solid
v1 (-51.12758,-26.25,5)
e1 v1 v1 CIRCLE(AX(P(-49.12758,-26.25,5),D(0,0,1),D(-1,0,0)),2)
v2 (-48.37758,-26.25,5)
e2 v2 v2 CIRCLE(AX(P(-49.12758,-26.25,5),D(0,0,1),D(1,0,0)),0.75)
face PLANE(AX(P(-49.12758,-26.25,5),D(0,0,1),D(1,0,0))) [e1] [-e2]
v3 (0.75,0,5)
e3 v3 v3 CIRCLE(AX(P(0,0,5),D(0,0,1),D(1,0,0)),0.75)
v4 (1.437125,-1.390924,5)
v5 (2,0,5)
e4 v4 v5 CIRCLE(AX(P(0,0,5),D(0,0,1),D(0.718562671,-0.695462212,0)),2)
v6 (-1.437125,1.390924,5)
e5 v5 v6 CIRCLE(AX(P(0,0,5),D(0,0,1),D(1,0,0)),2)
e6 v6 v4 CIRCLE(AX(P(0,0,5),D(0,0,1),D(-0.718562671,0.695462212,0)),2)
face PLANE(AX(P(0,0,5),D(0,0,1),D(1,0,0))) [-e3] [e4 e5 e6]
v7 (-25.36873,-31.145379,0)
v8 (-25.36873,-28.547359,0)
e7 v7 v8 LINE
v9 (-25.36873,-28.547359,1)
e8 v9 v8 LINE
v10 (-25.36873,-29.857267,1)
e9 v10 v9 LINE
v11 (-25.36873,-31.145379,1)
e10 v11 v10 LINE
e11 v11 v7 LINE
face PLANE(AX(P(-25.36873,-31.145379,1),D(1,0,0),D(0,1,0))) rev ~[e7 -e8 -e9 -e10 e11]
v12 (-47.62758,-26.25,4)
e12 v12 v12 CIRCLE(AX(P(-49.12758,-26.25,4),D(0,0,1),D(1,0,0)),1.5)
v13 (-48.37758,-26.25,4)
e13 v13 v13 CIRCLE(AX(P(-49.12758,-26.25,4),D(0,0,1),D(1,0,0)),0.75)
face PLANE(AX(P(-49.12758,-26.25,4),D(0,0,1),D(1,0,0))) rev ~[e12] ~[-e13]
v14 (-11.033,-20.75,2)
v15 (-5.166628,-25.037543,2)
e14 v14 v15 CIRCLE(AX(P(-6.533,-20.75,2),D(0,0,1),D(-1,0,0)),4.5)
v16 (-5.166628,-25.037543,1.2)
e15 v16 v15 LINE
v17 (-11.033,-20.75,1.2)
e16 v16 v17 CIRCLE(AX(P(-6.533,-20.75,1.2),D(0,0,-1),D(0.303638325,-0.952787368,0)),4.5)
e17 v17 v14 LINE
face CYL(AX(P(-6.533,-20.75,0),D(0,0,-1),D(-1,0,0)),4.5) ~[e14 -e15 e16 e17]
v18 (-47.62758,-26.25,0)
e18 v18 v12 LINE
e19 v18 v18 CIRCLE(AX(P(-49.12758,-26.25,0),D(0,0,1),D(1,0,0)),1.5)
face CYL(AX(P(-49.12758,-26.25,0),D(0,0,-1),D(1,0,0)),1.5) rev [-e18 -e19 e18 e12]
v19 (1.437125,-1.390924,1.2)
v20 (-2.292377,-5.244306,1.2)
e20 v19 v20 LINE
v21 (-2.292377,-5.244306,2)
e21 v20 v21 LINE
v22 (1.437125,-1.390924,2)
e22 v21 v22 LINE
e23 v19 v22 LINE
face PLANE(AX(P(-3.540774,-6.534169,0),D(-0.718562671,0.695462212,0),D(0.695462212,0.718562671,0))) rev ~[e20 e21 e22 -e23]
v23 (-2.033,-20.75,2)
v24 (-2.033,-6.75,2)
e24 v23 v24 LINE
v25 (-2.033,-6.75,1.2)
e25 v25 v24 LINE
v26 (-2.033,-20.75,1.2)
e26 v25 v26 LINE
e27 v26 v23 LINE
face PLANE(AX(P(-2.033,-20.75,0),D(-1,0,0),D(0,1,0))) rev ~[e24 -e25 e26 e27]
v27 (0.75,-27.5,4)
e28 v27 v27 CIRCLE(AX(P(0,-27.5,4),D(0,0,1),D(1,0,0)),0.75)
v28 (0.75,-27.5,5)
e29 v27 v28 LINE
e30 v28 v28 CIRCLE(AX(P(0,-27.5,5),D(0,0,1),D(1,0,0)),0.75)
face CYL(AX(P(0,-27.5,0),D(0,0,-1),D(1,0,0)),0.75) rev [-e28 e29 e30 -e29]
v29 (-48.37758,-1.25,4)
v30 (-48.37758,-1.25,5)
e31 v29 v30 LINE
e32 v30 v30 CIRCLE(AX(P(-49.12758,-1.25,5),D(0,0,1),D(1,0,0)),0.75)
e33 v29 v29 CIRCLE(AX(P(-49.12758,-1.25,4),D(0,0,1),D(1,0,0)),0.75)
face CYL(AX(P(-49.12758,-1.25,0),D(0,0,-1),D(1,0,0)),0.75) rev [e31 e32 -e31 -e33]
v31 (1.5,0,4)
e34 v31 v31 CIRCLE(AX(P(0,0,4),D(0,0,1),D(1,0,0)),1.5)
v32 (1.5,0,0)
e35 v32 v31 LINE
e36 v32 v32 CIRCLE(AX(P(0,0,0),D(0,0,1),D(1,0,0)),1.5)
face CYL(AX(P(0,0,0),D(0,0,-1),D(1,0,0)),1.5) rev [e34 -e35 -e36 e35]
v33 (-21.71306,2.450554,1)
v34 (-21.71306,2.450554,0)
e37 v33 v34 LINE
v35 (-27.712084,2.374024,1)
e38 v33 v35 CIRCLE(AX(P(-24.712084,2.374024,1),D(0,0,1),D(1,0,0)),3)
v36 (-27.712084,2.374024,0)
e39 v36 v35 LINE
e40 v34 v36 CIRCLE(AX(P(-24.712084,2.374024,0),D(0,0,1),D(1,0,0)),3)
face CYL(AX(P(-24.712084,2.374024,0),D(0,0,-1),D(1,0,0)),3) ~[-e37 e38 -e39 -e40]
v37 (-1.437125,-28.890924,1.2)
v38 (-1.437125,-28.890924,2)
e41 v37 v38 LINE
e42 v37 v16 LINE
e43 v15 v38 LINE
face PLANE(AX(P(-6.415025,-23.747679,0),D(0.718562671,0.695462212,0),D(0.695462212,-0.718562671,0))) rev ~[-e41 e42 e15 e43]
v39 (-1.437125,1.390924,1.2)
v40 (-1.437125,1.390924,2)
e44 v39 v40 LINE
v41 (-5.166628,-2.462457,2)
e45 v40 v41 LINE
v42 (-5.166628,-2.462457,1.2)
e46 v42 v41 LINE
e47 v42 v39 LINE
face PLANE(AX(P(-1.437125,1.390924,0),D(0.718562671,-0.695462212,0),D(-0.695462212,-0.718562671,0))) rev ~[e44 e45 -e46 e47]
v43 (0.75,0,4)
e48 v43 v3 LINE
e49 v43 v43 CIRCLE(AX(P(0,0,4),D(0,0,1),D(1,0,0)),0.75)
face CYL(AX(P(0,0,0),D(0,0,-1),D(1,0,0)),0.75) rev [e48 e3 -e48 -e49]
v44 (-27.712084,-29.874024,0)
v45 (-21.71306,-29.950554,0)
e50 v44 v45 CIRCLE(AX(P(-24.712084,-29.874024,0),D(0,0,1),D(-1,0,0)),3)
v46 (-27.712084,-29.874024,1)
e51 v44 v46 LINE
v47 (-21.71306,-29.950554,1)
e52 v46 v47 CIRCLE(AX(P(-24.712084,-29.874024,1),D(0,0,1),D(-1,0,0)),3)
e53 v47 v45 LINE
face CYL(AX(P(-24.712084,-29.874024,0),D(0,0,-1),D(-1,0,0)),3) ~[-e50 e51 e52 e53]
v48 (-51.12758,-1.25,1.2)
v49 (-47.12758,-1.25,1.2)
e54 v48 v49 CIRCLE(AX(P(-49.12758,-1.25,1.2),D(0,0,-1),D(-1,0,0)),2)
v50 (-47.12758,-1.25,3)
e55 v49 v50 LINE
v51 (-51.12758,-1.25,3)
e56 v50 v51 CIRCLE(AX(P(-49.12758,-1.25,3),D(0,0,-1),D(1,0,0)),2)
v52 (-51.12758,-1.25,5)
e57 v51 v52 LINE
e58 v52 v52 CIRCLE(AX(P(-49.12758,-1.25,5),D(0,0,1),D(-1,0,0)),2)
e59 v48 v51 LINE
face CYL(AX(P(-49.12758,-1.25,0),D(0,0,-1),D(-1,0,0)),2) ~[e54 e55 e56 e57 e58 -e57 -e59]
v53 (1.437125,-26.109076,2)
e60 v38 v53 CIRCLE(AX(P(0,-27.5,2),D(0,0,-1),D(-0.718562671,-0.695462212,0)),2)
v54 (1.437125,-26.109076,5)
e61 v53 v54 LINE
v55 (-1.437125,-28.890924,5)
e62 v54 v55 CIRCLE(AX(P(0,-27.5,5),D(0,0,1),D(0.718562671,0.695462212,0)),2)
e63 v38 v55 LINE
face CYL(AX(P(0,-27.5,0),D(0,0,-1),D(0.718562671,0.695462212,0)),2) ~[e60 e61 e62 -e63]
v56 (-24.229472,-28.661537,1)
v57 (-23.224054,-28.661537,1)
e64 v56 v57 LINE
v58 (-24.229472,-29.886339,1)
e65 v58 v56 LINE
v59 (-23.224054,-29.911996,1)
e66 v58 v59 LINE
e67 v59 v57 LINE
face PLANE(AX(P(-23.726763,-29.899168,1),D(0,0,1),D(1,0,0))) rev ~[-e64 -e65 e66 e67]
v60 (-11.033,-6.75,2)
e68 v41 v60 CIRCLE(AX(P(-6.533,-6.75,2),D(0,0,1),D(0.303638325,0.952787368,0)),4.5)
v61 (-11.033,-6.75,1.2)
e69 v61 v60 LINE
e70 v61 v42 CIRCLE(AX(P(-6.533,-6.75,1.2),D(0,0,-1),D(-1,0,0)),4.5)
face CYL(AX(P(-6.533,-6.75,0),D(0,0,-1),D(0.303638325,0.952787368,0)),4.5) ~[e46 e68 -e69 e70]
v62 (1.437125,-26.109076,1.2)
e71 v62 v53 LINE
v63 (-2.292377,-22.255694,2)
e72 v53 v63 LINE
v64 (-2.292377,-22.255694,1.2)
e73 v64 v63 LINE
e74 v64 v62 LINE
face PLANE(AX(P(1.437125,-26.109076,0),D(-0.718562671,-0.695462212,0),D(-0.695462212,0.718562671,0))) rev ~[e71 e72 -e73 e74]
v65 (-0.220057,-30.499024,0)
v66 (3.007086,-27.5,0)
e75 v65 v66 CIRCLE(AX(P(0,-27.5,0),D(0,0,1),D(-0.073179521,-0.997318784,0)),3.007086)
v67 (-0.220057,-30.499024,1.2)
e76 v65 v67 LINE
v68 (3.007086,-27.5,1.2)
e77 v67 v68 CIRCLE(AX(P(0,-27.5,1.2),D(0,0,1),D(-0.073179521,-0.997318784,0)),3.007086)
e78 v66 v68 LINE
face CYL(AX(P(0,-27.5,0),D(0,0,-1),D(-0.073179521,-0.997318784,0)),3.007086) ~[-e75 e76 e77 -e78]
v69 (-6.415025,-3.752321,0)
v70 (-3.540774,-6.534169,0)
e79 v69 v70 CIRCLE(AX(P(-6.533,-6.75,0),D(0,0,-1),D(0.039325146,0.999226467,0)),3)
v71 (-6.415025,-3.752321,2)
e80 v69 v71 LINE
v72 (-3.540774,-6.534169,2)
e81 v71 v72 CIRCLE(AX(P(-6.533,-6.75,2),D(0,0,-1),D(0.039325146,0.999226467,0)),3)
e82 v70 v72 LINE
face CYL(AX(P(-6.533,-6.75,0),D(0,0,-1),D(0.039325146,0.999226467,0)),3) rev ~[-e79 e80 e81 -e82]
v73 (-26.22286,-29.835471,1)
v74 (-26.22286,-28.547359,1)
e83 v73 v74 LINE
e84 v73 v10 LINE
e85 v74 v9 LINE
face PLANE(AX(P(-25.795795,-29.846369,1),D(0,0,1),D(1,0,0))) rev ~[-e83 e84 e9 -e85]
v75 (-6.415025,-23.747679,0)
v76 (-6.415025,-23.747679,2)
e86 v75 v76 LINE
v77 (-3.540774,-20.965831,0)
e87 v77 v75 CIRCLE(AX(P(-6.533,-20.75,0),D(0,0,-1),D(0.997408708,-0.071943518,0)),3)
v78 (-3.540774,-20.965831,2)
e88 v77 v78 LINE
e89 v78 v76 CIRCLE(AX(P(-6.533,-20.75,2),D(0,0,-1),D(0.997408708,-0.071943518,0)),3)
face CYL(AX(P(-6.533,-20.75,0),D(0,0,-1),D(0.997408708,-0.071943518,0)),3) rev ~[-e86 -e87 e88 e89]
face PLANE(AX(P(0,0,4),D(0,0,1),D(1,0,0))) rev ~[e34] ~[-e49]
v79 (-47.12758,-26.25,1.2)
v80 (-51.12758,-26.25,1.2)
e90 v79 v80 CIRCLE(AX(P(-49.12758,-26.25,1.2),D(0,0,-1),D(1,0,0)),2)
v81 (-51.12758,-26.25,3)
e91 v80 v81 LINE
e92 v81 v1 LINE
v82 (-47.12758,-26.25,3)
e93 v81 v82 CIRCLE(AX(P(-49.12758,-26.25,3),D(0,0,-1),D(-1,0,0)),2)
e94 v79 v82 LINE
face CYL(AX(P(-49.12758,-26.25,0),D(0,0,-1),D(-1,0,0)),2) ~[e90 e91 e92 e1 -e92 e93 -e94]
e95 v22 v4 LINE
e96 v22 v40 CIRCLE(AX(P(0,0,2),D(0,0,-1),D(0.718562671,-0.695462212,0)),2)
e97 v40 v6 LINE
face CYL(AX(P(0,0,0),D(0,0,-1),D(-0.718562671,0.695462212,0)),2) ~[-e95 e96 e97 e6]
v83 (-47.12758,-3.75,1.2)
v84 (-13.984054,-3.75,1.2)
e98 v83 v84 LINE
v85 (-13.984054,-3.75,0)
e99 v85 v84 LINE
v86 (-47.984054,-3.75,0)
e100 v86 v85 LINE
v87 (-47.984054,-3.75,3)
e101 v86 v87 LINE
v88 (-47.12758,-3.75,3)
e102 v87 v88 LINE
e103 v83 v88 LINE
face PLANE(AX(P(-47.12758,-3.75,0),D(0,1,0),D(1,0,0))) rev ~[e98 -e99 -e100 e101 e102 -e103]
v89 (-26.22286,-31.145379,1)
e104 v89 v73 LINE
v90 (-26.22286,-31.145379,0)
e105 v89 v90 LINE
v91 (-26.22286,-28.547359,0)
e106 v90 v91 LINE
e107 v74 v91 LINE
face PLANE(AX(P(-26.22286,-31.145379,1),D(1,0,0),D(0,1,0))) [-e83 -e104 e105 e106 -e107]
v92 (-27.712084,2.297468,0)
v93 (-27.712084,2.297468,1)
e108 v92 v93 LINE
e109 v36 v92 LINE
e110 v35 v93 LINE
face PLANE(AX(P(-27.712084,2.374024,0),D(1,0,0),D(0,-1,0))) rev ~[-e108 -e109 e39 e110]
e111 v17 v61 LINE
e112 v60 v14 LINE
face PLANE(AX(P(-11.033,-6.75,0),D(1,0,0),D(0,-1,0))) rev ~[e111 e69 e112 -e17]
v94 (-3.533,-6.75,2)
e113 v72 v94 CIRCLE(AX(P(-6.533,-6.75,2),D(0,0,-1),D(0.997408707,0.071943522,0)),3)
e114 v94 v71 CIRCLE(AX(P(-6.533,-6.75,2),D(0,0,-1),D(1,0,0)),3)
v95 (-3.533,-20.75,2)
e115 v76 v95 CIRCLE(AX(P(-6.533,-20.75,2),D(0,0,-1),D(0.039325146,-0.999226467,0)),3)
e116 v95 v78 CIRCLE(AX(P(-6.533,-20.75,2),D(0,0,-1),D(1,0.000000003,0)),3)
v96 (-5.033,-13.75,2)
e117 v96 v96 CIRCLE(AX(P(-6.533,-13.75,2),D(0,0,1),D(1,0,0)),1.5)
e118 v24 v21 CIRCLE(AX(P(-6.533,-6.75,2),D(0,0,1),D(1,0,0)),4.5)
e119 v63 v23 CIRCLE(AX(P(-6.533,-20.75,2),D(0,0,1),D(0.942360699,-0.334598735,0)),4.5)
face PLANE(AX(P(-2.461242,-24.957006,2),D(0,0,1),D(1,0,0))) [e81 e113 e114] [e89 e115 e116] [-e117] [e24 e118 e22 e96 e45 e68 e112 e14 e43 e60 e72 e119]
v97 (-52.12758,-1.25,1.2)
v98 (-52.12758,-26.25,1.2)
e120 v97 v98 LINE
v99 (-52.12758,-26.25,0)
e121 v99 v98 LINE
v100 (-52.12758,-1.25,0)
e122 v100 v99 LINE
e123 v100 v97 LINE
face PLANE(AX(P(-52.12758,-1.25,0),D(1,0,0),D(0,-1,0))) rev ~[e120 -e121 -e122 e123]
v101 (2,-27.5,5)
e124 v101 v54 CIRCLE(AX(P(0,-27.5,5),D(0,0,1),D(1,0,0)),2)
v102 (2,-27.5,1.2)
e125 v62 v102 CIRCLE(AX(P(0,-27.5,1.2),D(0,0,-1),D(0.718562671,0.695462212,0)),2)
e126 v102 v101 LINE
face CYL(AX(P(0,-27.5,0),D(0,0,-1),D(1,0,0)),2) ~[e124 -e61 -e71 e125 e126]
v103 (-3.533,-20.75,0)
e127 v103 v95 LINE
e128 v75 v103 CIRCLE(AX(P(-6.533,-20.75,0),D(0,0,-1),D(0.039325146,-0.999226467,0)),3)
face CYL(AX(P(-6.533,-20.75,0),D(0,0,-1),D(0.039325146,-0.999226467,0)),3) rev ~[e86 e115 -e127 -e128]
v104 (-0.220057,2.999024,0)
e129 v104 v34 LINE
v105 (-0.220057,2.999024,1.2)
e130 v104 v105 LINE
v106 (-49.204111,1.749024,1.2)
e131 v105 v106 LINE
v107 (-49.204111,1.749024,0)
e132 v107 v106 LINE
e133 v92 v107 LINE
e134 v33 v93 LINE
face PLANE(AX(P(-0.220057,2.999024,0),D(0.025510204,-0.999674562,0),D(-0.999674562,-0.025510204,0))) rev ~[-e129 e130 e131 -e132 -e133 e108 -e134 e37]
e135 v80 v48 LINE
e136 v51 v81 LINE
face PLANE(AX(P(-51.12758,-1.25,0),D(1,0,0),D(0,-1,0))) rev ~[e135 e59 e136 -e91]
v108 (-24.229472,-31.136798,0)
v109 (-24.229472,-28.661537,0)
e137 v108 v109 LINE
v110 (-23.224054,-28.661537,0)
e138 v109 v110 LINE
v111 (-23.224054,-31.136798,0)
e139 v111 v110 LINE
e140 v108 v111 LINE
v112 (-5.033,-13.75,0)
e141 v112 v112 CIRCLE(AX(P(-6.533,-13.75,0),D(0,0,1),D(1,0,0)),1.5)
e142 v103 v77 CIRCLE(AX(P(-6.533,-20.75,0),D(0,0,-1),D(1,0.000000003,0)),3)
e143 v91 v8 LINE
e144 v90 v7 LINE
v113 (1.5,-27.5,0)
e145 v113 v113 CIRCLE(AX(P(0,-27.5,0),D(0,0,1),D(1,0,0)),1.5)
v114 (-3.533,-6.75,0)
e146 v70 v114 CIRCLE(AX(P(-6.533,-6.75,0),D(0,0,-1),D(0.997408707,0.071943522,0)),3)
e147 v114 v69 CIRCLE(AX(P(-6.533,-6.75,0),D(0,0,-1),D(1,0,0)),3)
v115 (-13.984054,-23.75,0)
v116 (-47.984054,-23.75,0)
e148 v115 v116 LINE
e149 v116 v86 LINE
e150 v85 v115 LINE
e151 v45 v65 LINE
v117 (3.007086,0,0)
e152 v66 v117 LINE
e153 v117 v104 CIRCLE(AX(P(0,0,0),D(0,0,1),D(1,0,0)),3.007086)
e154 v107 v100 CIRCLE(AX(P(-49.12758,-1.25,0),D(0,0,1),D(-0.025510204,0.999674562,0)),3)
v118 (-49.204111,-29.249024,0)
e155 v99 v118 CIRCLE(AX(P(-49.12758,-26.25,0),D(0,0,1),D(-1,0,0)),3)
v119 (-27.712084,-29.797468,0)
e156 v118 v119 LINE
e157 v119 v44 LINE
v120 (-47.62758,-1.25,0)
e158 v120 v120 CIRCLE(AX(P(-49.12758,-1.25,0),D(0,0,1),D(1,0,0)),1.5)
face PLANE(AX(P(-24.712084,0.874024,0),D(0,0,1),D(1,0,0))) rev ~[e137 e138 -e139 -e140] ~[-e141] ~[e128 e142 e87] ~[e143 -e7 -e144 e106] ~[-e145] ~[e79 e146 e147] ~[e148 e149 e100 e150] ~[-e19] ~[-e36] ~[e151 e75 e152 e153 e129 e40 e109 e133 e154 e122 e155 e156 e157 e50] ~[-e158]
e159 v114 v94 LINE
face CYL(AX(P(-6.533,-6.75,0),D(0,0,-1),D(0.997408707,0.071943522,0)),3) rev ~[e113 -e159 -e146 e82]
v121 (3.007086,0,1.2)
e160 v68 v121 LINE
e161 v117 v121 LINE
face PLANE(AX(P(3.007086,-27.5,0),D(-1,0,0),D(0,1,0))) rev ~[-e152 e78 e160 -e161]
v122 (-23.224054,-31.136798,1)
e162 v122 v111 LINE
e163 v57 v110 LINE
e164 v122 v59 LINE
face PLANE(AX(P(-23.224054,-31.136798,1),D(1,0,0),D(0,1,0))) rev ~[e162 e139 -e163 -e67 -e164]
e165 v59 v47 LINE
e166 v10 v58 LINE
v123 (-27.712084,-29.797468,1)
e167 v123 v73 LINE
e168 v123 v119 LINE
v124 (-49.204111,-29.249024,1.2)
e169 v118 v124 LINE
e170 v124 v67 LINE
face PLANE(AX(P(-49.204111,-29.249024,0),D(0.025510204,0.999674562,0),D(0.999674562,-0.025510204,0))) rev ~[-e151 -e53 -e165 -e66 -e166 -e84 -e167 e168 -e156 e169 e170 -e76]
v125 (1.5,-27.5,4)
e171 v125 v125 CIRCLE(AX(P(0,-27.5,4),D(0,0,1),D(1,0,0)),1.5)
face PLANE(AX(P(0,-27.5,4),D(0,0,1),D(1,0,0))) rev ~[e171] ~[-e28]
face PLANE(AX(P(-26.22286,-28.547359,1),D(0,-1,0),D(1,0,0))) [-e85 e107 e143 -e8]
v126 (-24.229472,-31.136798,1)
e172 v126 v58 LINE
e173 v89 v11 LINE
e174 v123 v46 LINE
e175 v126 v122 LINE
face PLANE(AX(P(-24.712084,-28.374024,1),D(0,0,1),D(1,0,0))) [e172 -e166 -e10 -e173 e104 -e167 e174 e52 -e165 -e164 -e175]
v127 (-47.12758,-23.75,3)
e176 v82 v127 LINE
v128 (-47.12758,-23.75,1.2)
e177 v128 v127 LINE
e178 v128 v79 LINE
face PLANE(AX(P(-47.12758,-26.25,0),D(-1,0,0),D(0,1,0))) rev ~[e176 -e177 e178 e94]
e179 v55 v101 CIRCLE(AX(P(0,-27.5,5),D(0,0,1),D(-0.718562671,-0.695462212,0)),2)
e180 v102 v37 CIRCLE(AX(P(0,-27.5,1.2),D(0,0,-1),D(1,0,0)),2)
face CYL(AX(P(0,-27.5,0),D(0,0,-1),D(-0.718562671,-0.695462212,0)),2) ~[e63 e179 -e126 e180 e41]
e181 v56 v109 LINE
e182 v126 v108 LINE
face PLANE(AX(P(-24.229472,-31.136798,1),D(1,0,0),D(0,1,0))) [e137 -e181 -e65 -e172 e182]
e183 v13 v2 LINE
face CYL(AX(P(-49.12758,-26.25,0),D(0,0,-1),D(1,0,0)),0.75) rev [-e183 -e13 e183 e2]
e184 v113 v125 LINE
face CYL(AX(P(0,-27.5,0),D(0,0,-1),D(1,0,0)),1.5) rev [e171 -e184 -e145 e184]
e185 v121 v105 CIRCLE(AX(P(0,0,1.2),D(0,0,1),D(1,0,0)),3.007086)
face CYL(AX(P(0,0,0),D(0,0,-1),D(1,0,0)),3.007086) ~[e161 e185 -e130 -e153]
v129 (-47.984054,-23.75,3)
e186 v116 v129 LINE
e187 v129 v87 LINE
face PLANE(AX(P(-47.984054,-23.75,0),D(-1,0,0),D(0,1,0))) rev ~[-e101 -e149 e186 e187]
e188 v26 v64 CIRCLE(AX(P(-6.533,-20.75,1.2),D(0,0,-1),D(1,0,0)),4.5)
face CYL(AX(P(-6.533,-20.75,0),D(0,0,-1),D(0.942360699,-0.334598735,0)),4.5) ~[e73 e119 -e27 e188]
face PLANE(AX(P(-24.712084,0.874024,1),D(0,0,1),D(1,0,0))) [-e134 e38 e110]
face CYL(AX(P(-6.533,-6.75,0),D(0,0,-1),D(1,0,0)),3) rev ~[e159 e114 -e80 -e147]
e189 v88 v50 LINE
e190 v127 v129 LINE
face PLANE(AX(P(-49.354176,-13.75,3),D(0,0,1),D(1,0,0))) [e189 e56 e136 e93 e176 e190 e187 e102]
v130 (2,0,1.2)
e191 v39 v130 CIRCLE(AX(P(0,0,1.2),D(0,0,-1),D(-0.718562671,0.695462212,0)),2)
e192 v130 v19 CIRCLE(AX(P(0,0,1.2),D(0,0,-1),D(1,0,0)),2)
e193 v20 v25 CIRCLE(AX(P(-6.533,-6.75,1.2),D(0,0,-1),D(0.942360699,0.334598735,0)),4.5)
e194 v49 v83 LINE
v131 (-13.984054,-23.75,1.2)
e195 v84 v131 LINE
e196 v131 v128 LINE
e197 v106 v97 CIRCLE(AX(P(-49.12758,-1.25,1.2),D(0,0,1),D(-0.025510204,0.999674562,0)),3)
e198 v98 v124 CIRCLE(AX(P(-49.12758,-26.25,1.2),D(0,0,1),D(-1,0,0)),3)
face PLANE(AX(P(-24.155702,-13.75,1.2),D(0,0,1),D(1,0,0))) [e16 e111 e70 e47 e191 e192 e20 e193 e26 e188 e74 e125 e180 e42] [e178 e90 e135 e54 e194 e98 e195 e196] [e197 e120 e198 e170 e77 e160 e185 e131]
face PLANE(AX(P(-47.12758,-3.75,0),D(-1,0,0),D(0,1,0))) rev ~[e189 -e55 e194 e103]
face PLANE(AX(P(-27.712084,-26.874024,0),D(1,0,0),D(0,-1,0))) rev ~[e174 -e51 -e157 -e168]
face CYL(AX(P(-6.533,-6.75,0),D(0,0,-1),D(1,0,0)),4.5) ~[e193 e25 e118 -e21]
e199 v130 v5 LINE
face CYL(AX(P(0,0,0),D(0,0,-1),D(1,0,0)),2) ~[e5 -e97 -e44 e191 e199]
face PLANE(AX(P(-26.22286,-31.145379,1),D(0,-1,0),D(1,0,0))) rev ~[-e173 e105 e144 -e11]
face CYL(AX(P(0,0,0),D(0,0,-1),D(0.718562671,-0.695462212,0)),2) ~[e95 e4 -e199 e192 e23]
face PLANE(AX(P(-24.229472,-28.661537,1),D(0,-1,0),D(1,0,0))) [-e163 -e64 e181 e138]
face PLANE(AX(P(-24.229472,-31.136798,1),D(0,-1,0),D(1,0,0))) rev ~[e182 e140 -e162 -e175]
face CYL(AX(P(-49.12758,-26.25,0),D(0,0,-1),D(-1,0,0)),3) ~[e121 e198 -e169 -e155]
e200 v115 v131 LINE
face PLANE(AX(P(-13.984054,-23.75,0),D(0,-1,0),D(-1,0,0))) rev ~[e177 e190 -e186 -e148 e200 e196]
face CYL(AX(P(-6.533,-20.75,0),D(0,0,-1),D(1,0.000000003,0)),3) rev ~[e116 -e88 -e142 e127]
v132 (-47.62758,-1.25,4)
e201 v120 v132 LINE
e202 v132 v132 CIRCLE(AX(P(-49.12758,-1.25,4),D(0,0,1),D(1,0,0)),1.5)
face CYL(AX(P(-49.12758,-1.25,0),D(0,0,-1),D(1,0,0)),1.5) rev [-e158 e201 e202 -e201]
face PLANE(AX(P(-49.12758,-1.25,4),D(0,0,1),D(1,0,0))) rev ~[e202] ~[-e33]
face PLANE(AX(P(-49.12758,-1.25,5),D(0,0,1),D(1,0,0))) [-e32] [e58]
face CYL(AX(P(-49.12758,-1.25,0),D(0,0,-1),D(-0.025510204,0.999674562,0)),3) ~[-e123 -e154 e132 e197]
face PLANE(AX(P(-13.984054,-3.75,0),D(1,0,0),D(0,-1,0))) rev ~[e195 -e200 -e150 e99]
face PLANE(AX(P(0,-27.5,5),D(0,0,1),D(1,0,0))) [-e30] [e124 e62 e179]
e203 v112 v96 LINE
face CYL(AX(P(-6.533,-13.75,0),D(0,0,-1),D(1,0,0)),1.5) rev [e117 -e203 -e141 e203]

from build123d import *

# Parameters (mm, degrees)
EXTRUDE_1_DEPTH     = 1.2
SKETCH_2_8_R        = 1.5
EXTRUDE_7_DEPTH     = 2
SKETCH_2_9_R        = 1.5
EXTRUDE_8_DEPTH     = 5
SKETCH_2_10_R       = 1.5
EXTRUDE_9_DEPTH     = 5
SKETCH_2_11_R       = 1.5
EXTRUDE_10_DEPTH    = 5
SKETCH_2_12_R       = 1.5
EXTRUDE_11_DEPTH    = 5
SKETCH_2_13_R       = 1.5
SKETCH_2_13_R_2     = 0.75
EXTRUDE_12_DEPTH    = 5
SKETCH_2_14_R       = 1.5
SKETCH_2_14_R_2     = 0.75
EXTRUDE_13_DEPTH    = 5
SKETCH_2_15_R       = 1.5
SKETCH_2_15_R_2     = 0.75
EXTRUDE_14_DEPTH    = 5
SKETCH_2_16_R       = 1.5
SKETCH_2_16_R_2     = 0.75
EXTRUDE_15_DEPTH    = 5
SKETCH_2_19_R       = 1.5
SKETCH_2_19_R_2     = 0.75
CUT_EXTRUDE_4_DEPTH = 4
SKETCH_2_20_R       = 1.5
SKETCH_2_20_R_2     = 0.75
CUT_EXTRUDE_5_DEPTH = 4
SKETCH_2_21_R       = 1.5
SKETCH_2_21_R_2     = 0.75
CUT_EXTRUDE_6_DEPTH = 4
SKETCH_2_22_R       = 1.5
SKETCH_2_22_R_2     = 0.75
CUT_EXTRUDE_7_DEPTH = 4
EXTRUDE_16_DEPTH    = 3
EXTRUDE_18_DEPTH    = 2
EXTRUDE_19_DEPTH    = 1
SKETCH_5_W          = 0.85413001
SKETCH_5_H          = 2.598019217
SKETCH_5_W_2        = 1.005417368
SKETCH_5_H_2        = 2.475260341
CUT_EXTRUDE_9_DEPTH = 1


with BuildPart() as part:
    # 草图2 → 凸台-拉伸1 (new body)
    with BuildSketch(Plane.XY):
        with BuildLine():
            Line((-0.220057138, 2.999023685), (-49.204110666, 1.749023685))
            ThreePointArc((-49.204110666, 1.749023685), (-51.275787659, 0.844087888), (-52.127580054, -1.25))
            Line((-52.127580054, -1.25), (-52.127580054, -26.25))
            ThreePointArc((-52.127580054, -26.25), (-51.275787659, -28.344087888), (-49.204110666, -29.249023685))
            Line((-49.204110666, -29.249023685), (-0.220057138, -30.499023685))
            ThreePointArc((-0.220057138, -30.499023685), (2.04705122, -29.702759522), (3.007086332, -27.5))
            Line((3.007086332, -27.5), (3.007086332, 0))
            ThreePointArc((3.007086332, 0), (2.04705122, 2.202759522), (-0.220057138, 2.999023685))
        make_face()
        with BuildLine():
            ThreePointArc((2, -27.5), (0.750249731, -29.353948581), (-1.437125342, -28.890924423))
            Line((-1.437125342, -28.890924423), (-5.166627539, -25.037543154))
            ThreePointArc((-5.166627539, -25.037543154), (-9.188308261, -24.383089324), (-11.033, -20.75))
            Line((-11.033, -20.75), (-11.033, -6.75))
            ThreePointArc((-11.033, -6.75), (-9.188308261, -3.116910676), (-5.166627539, -2.462456846))
            Line((-5.166627539, -2.462456846), (-1.437125342, 1.390924423))
            ThreePointArc((-1.437125342, 1.390924423), (0.750249731, 1.853948581), (2, 0))
            ThreePointArc((2, 0), (1.853948581, -0.750249731), (1.437125342, -1.390924423))
            Line((1.437125342, -1.390924423), (-2.292376856, -5.244305693))
            ThreePointArc((-2.292376856, -5.244305693), (-2.098318267, -5.986064188), (-2.033, -6.75))
            Line((-2.033, -6.75), (-2.033, -20.75))
            ThreePointArc((-2.033, -20.75), (-2.098318267, -21.513935812), (-2.292376856, -22.255694307))
            Line((-2.292376856, -22.255694307), (1.437125342, -26.109075577))
            ThreePointArc((1.437125342, -26.109075577), (1.853948581, -26.749750269), (2, -27.5))
        make_face(mode=Mode.SUBTRACT)
        with BuildLine():
            ThreePointArc((-47.127580054, -26.25), (-49.127580054, -28.25), (-51.127580054, -26.25))
            Line((-51.127580054, -26.25), (-51.127580054, -1.25))
            ThreePointArc((-51.127580054, -1.25), (-49.127580054, 0.75), (-47.127580054, -1.25))
            Line((-47.127580054, -1.25), (-47.127580054, -3.75))
            Line((-47.127580054, -3.75), (-13.984053528, -3.75))
            Line((-13.984053528, -3.75), (-13.984053528, -13.75))
            Line((-13.984053528, -13.75), (-13.984053528, -23.75))
            Line((-13.984053528, -23.75), (-47.127580054, -23.75))
            Line((-47.127580054, -23.75), (-47.127580054, -26.25))
        make_face(mode=Mode.SUBTRACT)
    extrude(amount=EXTRUDE_1_DEPTH)

    # 草图2<8> → 凸台-拉伸7 (add)
    with BuildSketch(Plane.XY):
        with BuildLine():
            ThreePointArc((-11.033, -20.75), (-9.188308261, -24.383089324), (-5.166627539, -25.037543154))
            Line((-5.166627539, -25.037543154), (-6.415024561, -23.747679402))
            ThreePointArc((-6.415024561, -23.747679402), (-8.695628761, -18.670808609), (-3.533, -20.75))
            ThreePointArc((-3.533, -20.75), (-3.534944099, -20.857985255), (-3.540773877, -20.965830555))
            Line((-3.540773877, -20.965830555), (-2.292376856, -22.255694307))
            ThreePointArc((-2.292376856, -22.255694307), (-2.098318267, -21.513935812), (-2.033, -20.75))
            Line((-2.033, -20.75), (-2.033, -6.75))
            ThreePointArc((-2.033, -6.75), (-2.098318267, -5.986064188), (-2.292376856, -5.244305693))
            Line((-2.292376856, -5.244305693), (-3.540773877, -6.534169445))
            ThreePointArc((-3.540773877, -6.534169445), (-3.534944099, -6.642014745), (-3.533, -6.75))
            ThreePointArc((-3.533, -6.75), (-8.695628761, -8.829191391), (-6.415024561, -3.752320598))
            Line((-6.415024561, -3.752320598), (-5.166627539, -2.462456846))
            ThreePointArc((-5.166627539, -2.462456846), (-9.188308261, -3.116910676), (-11.033, -6.75))
            Line((-11.033, -6.75), (-11.033, -20.75))
        make_face()
        with Locations((-6.533, -13.75)):
            Circle(SKETCH_2_8_R, mode=Mode.SUBTRACT)
    extrude(amount=EXTRUDE_7_DEPTH)

    # 草图2<9> → 凸台-拉伸8 (add)
    with BuildSketch(Plane.XY):
        with BuildLine():
            ThreePointArc((-47.127580054, -1.25), (-49.127580054, 0.75), (-51.127580054, -1.25))
            ThreePointArc((-51.127580054, -1.25), (-49.127580054, -3.25), (-47.127580054, -1.25))
        make_face()
        with Locations((-49.127580054, -1.25)):
            Circle(SKETCH_2_9_R, mode=Mode.SUBTRACT)
    extrude(amount=EXTRUDE_8_DEPTH)

    # 草图2<10> → 凸台-拉伸9 (add)
    with BuildSketch(Plane.XY):
        with BuildLine():
            ThreePointArc((1.437125342, -26.109075577), (-1.390924423, -26.062874658), (-1.437125342, -28.890924423))
            ThreePointArc((-1.437125342, -28.890924423), (0.750249731, -29.353948581), (2, -27.5))
            ThreePointArc((2, -27.5), (1.853948581, -26.749750269), (1.437125342, -26.109075577))
        make_face()
        with Locations((0, -27.5)):
            Circle(SKETCH_2_10_R, mode=Mode.SUBTRACT)
    extrude(amount=EXTRUDE_9_DEPTH)

    # 草图2<11> → 凸台-拉伸10 (add)
    with BuildSketch(Plane.XY):
        with BuildLine():
            ThreePointArc((2, 0), (0.750249731, 1.853948581), (-1.437125342, 1.390924423))
            ThreePointArc((-1.437125342, 1.390924423), (-1.390924423, -1.437125342), (1.437125342, -1.390924423))
            ThreePointArc((1.437125342, -1.390924423), (1.853948581, -0.750249731), (2, 0))
        make_face()
        Circle(SKETCH_2_11_R, mode=Mode.SUBTRACT)
    extrude(amount=EXTRUDE_10_DEPTH)

    # 草图2<12> → 凸台-拉伸11 (add)
    with BuildSketch(Plane.XY):
        with BuildLine():
            ThreePointArc((-47.127580054, -26.25), (-49.127580054, -24.25), (-51.127580054, -26.25))
            ThreePointArc((-51.127580054, -26.25), (-49.127580054, -28.25), (-47.127580054, -26.25))
        make_face()
        with Locations((-49.127580054, -26.25)):
            Circle(SKETCH_2_12_R, mode=Mode.SUBTRACT)
    extrude(amount=EXTRUDE_11_DEPTH)

    # 草图2<13> → 凸台-拉伸12 (add)
    with BuildSketch(Plane.XY):
        with Locations((-49.127580054, -1.25)):
            Circle(SKETCH_2_13_R)
        with Locations((-49.127580054, -1.25)):
            Circle(SKETCH_2_13_R_2, mode=Mode.SUBTRACT)
    extrude(amount=EXTRUDE_12_DEPTH)

    # 草图2<14> → 凸台-拉伸13 (add)
    with BuildSketch(Plane.XY):
        with Locations((-49.127580054, -26.25)):
            Circle(SKETCH_2_14_R)
        with Locations((-49.127580054, -26.25)):
            Circle(SKETCH_2_14_R_2, mode=Mode.SUBTRACT)
    extrude(amount=EXTRUDE_13_DEPTH)

    # 草图2<15> → 凸台-拉伸14 (add)
    with BuildSketch(Plane.XY):
        Circle(SKETCH_2_15_R)
        Circle(SKETCH_2_15_R_2, mode=Mode.SUBTRACT)
    extrude(amount=EXTRUDE_14_DEPTH)

    # 草图2<16> → 凸台-拉伸15 (add)
    with BuildSketch(Plane.XY):
        with Locations((0, -27.5)):
            Circle(SKETCH_2_16_R)
        with Locations((0, -27.5)):
            Circle(SKETCH_2_16_R_2, mode=Mode.SUBTRACT)
    extrude(amount=EXTRUDE_15_DEPTH)

    # 草图2<19> → 切除-拉伸4 (cut)
    with BuildSketch(Plane.XY):
        with Locations((-49.127580054, -1.25)):
            Circle(SKETCH_2_19_R)
        with Locations((-49.127580054, -1.25)):
            Circle(SKETCH_2_19_R_2, mode=Mode.SUBTRACT)
    extrude(amount=CUT_EXTRUDE_4_DEPTH, mode=Mode.SUBTRACT)

    # 草图2<20> → 切除-拉伸5 (cut)
    with BuildSketch(Plane.XY):
        with Locations((-49.127580054, -26.25)):
            Circle(SKETCH_2_20_R)
        with Locations((-49.127580054, -26.25)):
            Circle(SKETCH_2_20_R_2, mode=Mode.SUBTRACT)
    extrude(amount=CUT_EXTRUDE_5_DEPTH, mode=Mode.SUBTRACT)

    # 草图2<21> → 切除-拉伸6 (cut)
    with BuildSketch(Plane.XY):
        with Locations((0, -27.5)):
            Circle(SKETCH_2_21_R)
        with Locations((0, -27.5)):
            Circle(SKETCH_2_21_R_2, mode=Mode.SUBTRACT)
    extrude(amount=CUT_EXTRUDE_6_DEPTH, mode=Mode.SUBTRACT)

    # 草图2<22> → 切除-拉伸7 (cut)
    with BuildSketch(Plane.XY):
        Circle(SKETCH_2_22_R)
        Circle(SKETCH_2_22_R_2, mode=Mode.SUBTRACT)
    extrude(amount=CUT_EXTRUDE_7_DEPTH, mode=Mode.SUBTRACT)

    # 草图2<23> → 凸台-拉伸16 (add)
    with BuildSketch(Plane.XY):
        with BuildLine():
            Line((-51.127580054, -1.25), (-51.127580054, -26.25))
            ThreePointArc((-51.127580054, -26.25), (-49.127580054, -24.25), (-47.127580054, -26.25))
            Line((-47.127580054, -26.25), (-47.127580054, -23.75))
            Line((-47.127580054, -23.75), (-47.984053528, -23.75))
            Line((-47.984053528, -23.75), (-47.984053528, -13.75))
            Line((-47.984053528, -13.75), (-47.984053528, -3.75))
            Line((-47.984053528, -3.75), (-47.127580054, -3.75))
            Line((-47.127580054, -3.75), (-47.127580054, -1.25))
            ThreePointArc((-47.127580054, -1.25), (-49.127580054, -3.25), (-51.127580054, -1.25))
        make_face()
    extrude(amount=EXTRUDE_16_DEPTH)

    # 草图2<24> → 凸台-拉伸18 (add)
    with BuildSketch(Plane.XY):
        with BuildLine():
            ThreePointArc((-1.437125342, -28.890924423), (-1.390924423, -26.062874658), (1.437125342, -26.109075577))
            Line((1.437125342, -26.109075577), (-3.540773877, -20.965830555))
            ThreePointArc((-3.540773877, -20.965830555), (-4.446613365, -22.905688013), (-6.415024561, -23.747679402))
            Line((-6.415024561, -23.747679402), (-1.437125342, -28.890924423))
        make_face()
        with BuildLine():
            Line((-3.540773877, -6.534169445), (1.437125342, -1.390924423))
            ThreePointArc((1.437125342, -1.390924423), (-1.390924423, -1.437125342), (-1.437125342, 1.390924423))
            Line((-1.437125342, 1.390924423), (-6.415024561, -3.752320598))
            ThreePointArc((-6.415024561, -3.752320598), (-4.446613365, -4.594311987), (-3.540773877, -6.534169445))
        make_face()
    extrude(amount=EXTRUDE_18_DEPTH)

    # 草图4 → 凸台-拉伸19 (add)
    with BuildSketch(Plane(origin=(0, 0, 0), x_dir=(-1, 0, 0), z_dir=(0, 0, -1))):
        with BuildLine():
            Line((27.712083902, 2.374023685), (27.712083902, -0.625976315))
            ThreePointArc((27.712083902, -0.625976315), (24.712083902, -3.625976315), (21.712083902, -0.625976315))
            Line((21.712083902, -0.625976315), (21.712083902, 2.374023685))
            ThreePointArc((21.712083902, 2.374023685), (24.712083902, 5.374023685), (27.712083902, 2.374023685))
        make_face()
        with BuildLine():
            Line((21.712083902, -29.874023685), (21.712083902, -26.874023685))
            ThreePointArc((21.712083902, -26.874023685), (24.712083902, -23.874023685), (27.712083902, -26.874023685))
            Line((27.712083902, -26.874023685), (27.712083902, -29.874023685))
            ThreePointArc((27.712083902, -29.874023685), (24.712083902, -32.874023685), (21.712083902, -29.874023685))
        make_face()
    extrude(amount=-EXTRUDE_19_DEPTH)

    # 草图5 → 切除-拉伸9 (cut)
    with BuildSketch(Plane.XY.offset(1)):
        with Locations((-25.795795215, -29.846368989)):
            Rectangle(SKETCH_5_W, SKETCH_5_H)
        with Locations((-23.726763116, -29.899167603)):
            Rectangle(SKETCH_5_W_2, SKETCH_5_H_2)
    extrude(amount=-CUT_EXTRUDE_9_DEPTH, mode=Mode.SUBTRACT)


solid = part.part
